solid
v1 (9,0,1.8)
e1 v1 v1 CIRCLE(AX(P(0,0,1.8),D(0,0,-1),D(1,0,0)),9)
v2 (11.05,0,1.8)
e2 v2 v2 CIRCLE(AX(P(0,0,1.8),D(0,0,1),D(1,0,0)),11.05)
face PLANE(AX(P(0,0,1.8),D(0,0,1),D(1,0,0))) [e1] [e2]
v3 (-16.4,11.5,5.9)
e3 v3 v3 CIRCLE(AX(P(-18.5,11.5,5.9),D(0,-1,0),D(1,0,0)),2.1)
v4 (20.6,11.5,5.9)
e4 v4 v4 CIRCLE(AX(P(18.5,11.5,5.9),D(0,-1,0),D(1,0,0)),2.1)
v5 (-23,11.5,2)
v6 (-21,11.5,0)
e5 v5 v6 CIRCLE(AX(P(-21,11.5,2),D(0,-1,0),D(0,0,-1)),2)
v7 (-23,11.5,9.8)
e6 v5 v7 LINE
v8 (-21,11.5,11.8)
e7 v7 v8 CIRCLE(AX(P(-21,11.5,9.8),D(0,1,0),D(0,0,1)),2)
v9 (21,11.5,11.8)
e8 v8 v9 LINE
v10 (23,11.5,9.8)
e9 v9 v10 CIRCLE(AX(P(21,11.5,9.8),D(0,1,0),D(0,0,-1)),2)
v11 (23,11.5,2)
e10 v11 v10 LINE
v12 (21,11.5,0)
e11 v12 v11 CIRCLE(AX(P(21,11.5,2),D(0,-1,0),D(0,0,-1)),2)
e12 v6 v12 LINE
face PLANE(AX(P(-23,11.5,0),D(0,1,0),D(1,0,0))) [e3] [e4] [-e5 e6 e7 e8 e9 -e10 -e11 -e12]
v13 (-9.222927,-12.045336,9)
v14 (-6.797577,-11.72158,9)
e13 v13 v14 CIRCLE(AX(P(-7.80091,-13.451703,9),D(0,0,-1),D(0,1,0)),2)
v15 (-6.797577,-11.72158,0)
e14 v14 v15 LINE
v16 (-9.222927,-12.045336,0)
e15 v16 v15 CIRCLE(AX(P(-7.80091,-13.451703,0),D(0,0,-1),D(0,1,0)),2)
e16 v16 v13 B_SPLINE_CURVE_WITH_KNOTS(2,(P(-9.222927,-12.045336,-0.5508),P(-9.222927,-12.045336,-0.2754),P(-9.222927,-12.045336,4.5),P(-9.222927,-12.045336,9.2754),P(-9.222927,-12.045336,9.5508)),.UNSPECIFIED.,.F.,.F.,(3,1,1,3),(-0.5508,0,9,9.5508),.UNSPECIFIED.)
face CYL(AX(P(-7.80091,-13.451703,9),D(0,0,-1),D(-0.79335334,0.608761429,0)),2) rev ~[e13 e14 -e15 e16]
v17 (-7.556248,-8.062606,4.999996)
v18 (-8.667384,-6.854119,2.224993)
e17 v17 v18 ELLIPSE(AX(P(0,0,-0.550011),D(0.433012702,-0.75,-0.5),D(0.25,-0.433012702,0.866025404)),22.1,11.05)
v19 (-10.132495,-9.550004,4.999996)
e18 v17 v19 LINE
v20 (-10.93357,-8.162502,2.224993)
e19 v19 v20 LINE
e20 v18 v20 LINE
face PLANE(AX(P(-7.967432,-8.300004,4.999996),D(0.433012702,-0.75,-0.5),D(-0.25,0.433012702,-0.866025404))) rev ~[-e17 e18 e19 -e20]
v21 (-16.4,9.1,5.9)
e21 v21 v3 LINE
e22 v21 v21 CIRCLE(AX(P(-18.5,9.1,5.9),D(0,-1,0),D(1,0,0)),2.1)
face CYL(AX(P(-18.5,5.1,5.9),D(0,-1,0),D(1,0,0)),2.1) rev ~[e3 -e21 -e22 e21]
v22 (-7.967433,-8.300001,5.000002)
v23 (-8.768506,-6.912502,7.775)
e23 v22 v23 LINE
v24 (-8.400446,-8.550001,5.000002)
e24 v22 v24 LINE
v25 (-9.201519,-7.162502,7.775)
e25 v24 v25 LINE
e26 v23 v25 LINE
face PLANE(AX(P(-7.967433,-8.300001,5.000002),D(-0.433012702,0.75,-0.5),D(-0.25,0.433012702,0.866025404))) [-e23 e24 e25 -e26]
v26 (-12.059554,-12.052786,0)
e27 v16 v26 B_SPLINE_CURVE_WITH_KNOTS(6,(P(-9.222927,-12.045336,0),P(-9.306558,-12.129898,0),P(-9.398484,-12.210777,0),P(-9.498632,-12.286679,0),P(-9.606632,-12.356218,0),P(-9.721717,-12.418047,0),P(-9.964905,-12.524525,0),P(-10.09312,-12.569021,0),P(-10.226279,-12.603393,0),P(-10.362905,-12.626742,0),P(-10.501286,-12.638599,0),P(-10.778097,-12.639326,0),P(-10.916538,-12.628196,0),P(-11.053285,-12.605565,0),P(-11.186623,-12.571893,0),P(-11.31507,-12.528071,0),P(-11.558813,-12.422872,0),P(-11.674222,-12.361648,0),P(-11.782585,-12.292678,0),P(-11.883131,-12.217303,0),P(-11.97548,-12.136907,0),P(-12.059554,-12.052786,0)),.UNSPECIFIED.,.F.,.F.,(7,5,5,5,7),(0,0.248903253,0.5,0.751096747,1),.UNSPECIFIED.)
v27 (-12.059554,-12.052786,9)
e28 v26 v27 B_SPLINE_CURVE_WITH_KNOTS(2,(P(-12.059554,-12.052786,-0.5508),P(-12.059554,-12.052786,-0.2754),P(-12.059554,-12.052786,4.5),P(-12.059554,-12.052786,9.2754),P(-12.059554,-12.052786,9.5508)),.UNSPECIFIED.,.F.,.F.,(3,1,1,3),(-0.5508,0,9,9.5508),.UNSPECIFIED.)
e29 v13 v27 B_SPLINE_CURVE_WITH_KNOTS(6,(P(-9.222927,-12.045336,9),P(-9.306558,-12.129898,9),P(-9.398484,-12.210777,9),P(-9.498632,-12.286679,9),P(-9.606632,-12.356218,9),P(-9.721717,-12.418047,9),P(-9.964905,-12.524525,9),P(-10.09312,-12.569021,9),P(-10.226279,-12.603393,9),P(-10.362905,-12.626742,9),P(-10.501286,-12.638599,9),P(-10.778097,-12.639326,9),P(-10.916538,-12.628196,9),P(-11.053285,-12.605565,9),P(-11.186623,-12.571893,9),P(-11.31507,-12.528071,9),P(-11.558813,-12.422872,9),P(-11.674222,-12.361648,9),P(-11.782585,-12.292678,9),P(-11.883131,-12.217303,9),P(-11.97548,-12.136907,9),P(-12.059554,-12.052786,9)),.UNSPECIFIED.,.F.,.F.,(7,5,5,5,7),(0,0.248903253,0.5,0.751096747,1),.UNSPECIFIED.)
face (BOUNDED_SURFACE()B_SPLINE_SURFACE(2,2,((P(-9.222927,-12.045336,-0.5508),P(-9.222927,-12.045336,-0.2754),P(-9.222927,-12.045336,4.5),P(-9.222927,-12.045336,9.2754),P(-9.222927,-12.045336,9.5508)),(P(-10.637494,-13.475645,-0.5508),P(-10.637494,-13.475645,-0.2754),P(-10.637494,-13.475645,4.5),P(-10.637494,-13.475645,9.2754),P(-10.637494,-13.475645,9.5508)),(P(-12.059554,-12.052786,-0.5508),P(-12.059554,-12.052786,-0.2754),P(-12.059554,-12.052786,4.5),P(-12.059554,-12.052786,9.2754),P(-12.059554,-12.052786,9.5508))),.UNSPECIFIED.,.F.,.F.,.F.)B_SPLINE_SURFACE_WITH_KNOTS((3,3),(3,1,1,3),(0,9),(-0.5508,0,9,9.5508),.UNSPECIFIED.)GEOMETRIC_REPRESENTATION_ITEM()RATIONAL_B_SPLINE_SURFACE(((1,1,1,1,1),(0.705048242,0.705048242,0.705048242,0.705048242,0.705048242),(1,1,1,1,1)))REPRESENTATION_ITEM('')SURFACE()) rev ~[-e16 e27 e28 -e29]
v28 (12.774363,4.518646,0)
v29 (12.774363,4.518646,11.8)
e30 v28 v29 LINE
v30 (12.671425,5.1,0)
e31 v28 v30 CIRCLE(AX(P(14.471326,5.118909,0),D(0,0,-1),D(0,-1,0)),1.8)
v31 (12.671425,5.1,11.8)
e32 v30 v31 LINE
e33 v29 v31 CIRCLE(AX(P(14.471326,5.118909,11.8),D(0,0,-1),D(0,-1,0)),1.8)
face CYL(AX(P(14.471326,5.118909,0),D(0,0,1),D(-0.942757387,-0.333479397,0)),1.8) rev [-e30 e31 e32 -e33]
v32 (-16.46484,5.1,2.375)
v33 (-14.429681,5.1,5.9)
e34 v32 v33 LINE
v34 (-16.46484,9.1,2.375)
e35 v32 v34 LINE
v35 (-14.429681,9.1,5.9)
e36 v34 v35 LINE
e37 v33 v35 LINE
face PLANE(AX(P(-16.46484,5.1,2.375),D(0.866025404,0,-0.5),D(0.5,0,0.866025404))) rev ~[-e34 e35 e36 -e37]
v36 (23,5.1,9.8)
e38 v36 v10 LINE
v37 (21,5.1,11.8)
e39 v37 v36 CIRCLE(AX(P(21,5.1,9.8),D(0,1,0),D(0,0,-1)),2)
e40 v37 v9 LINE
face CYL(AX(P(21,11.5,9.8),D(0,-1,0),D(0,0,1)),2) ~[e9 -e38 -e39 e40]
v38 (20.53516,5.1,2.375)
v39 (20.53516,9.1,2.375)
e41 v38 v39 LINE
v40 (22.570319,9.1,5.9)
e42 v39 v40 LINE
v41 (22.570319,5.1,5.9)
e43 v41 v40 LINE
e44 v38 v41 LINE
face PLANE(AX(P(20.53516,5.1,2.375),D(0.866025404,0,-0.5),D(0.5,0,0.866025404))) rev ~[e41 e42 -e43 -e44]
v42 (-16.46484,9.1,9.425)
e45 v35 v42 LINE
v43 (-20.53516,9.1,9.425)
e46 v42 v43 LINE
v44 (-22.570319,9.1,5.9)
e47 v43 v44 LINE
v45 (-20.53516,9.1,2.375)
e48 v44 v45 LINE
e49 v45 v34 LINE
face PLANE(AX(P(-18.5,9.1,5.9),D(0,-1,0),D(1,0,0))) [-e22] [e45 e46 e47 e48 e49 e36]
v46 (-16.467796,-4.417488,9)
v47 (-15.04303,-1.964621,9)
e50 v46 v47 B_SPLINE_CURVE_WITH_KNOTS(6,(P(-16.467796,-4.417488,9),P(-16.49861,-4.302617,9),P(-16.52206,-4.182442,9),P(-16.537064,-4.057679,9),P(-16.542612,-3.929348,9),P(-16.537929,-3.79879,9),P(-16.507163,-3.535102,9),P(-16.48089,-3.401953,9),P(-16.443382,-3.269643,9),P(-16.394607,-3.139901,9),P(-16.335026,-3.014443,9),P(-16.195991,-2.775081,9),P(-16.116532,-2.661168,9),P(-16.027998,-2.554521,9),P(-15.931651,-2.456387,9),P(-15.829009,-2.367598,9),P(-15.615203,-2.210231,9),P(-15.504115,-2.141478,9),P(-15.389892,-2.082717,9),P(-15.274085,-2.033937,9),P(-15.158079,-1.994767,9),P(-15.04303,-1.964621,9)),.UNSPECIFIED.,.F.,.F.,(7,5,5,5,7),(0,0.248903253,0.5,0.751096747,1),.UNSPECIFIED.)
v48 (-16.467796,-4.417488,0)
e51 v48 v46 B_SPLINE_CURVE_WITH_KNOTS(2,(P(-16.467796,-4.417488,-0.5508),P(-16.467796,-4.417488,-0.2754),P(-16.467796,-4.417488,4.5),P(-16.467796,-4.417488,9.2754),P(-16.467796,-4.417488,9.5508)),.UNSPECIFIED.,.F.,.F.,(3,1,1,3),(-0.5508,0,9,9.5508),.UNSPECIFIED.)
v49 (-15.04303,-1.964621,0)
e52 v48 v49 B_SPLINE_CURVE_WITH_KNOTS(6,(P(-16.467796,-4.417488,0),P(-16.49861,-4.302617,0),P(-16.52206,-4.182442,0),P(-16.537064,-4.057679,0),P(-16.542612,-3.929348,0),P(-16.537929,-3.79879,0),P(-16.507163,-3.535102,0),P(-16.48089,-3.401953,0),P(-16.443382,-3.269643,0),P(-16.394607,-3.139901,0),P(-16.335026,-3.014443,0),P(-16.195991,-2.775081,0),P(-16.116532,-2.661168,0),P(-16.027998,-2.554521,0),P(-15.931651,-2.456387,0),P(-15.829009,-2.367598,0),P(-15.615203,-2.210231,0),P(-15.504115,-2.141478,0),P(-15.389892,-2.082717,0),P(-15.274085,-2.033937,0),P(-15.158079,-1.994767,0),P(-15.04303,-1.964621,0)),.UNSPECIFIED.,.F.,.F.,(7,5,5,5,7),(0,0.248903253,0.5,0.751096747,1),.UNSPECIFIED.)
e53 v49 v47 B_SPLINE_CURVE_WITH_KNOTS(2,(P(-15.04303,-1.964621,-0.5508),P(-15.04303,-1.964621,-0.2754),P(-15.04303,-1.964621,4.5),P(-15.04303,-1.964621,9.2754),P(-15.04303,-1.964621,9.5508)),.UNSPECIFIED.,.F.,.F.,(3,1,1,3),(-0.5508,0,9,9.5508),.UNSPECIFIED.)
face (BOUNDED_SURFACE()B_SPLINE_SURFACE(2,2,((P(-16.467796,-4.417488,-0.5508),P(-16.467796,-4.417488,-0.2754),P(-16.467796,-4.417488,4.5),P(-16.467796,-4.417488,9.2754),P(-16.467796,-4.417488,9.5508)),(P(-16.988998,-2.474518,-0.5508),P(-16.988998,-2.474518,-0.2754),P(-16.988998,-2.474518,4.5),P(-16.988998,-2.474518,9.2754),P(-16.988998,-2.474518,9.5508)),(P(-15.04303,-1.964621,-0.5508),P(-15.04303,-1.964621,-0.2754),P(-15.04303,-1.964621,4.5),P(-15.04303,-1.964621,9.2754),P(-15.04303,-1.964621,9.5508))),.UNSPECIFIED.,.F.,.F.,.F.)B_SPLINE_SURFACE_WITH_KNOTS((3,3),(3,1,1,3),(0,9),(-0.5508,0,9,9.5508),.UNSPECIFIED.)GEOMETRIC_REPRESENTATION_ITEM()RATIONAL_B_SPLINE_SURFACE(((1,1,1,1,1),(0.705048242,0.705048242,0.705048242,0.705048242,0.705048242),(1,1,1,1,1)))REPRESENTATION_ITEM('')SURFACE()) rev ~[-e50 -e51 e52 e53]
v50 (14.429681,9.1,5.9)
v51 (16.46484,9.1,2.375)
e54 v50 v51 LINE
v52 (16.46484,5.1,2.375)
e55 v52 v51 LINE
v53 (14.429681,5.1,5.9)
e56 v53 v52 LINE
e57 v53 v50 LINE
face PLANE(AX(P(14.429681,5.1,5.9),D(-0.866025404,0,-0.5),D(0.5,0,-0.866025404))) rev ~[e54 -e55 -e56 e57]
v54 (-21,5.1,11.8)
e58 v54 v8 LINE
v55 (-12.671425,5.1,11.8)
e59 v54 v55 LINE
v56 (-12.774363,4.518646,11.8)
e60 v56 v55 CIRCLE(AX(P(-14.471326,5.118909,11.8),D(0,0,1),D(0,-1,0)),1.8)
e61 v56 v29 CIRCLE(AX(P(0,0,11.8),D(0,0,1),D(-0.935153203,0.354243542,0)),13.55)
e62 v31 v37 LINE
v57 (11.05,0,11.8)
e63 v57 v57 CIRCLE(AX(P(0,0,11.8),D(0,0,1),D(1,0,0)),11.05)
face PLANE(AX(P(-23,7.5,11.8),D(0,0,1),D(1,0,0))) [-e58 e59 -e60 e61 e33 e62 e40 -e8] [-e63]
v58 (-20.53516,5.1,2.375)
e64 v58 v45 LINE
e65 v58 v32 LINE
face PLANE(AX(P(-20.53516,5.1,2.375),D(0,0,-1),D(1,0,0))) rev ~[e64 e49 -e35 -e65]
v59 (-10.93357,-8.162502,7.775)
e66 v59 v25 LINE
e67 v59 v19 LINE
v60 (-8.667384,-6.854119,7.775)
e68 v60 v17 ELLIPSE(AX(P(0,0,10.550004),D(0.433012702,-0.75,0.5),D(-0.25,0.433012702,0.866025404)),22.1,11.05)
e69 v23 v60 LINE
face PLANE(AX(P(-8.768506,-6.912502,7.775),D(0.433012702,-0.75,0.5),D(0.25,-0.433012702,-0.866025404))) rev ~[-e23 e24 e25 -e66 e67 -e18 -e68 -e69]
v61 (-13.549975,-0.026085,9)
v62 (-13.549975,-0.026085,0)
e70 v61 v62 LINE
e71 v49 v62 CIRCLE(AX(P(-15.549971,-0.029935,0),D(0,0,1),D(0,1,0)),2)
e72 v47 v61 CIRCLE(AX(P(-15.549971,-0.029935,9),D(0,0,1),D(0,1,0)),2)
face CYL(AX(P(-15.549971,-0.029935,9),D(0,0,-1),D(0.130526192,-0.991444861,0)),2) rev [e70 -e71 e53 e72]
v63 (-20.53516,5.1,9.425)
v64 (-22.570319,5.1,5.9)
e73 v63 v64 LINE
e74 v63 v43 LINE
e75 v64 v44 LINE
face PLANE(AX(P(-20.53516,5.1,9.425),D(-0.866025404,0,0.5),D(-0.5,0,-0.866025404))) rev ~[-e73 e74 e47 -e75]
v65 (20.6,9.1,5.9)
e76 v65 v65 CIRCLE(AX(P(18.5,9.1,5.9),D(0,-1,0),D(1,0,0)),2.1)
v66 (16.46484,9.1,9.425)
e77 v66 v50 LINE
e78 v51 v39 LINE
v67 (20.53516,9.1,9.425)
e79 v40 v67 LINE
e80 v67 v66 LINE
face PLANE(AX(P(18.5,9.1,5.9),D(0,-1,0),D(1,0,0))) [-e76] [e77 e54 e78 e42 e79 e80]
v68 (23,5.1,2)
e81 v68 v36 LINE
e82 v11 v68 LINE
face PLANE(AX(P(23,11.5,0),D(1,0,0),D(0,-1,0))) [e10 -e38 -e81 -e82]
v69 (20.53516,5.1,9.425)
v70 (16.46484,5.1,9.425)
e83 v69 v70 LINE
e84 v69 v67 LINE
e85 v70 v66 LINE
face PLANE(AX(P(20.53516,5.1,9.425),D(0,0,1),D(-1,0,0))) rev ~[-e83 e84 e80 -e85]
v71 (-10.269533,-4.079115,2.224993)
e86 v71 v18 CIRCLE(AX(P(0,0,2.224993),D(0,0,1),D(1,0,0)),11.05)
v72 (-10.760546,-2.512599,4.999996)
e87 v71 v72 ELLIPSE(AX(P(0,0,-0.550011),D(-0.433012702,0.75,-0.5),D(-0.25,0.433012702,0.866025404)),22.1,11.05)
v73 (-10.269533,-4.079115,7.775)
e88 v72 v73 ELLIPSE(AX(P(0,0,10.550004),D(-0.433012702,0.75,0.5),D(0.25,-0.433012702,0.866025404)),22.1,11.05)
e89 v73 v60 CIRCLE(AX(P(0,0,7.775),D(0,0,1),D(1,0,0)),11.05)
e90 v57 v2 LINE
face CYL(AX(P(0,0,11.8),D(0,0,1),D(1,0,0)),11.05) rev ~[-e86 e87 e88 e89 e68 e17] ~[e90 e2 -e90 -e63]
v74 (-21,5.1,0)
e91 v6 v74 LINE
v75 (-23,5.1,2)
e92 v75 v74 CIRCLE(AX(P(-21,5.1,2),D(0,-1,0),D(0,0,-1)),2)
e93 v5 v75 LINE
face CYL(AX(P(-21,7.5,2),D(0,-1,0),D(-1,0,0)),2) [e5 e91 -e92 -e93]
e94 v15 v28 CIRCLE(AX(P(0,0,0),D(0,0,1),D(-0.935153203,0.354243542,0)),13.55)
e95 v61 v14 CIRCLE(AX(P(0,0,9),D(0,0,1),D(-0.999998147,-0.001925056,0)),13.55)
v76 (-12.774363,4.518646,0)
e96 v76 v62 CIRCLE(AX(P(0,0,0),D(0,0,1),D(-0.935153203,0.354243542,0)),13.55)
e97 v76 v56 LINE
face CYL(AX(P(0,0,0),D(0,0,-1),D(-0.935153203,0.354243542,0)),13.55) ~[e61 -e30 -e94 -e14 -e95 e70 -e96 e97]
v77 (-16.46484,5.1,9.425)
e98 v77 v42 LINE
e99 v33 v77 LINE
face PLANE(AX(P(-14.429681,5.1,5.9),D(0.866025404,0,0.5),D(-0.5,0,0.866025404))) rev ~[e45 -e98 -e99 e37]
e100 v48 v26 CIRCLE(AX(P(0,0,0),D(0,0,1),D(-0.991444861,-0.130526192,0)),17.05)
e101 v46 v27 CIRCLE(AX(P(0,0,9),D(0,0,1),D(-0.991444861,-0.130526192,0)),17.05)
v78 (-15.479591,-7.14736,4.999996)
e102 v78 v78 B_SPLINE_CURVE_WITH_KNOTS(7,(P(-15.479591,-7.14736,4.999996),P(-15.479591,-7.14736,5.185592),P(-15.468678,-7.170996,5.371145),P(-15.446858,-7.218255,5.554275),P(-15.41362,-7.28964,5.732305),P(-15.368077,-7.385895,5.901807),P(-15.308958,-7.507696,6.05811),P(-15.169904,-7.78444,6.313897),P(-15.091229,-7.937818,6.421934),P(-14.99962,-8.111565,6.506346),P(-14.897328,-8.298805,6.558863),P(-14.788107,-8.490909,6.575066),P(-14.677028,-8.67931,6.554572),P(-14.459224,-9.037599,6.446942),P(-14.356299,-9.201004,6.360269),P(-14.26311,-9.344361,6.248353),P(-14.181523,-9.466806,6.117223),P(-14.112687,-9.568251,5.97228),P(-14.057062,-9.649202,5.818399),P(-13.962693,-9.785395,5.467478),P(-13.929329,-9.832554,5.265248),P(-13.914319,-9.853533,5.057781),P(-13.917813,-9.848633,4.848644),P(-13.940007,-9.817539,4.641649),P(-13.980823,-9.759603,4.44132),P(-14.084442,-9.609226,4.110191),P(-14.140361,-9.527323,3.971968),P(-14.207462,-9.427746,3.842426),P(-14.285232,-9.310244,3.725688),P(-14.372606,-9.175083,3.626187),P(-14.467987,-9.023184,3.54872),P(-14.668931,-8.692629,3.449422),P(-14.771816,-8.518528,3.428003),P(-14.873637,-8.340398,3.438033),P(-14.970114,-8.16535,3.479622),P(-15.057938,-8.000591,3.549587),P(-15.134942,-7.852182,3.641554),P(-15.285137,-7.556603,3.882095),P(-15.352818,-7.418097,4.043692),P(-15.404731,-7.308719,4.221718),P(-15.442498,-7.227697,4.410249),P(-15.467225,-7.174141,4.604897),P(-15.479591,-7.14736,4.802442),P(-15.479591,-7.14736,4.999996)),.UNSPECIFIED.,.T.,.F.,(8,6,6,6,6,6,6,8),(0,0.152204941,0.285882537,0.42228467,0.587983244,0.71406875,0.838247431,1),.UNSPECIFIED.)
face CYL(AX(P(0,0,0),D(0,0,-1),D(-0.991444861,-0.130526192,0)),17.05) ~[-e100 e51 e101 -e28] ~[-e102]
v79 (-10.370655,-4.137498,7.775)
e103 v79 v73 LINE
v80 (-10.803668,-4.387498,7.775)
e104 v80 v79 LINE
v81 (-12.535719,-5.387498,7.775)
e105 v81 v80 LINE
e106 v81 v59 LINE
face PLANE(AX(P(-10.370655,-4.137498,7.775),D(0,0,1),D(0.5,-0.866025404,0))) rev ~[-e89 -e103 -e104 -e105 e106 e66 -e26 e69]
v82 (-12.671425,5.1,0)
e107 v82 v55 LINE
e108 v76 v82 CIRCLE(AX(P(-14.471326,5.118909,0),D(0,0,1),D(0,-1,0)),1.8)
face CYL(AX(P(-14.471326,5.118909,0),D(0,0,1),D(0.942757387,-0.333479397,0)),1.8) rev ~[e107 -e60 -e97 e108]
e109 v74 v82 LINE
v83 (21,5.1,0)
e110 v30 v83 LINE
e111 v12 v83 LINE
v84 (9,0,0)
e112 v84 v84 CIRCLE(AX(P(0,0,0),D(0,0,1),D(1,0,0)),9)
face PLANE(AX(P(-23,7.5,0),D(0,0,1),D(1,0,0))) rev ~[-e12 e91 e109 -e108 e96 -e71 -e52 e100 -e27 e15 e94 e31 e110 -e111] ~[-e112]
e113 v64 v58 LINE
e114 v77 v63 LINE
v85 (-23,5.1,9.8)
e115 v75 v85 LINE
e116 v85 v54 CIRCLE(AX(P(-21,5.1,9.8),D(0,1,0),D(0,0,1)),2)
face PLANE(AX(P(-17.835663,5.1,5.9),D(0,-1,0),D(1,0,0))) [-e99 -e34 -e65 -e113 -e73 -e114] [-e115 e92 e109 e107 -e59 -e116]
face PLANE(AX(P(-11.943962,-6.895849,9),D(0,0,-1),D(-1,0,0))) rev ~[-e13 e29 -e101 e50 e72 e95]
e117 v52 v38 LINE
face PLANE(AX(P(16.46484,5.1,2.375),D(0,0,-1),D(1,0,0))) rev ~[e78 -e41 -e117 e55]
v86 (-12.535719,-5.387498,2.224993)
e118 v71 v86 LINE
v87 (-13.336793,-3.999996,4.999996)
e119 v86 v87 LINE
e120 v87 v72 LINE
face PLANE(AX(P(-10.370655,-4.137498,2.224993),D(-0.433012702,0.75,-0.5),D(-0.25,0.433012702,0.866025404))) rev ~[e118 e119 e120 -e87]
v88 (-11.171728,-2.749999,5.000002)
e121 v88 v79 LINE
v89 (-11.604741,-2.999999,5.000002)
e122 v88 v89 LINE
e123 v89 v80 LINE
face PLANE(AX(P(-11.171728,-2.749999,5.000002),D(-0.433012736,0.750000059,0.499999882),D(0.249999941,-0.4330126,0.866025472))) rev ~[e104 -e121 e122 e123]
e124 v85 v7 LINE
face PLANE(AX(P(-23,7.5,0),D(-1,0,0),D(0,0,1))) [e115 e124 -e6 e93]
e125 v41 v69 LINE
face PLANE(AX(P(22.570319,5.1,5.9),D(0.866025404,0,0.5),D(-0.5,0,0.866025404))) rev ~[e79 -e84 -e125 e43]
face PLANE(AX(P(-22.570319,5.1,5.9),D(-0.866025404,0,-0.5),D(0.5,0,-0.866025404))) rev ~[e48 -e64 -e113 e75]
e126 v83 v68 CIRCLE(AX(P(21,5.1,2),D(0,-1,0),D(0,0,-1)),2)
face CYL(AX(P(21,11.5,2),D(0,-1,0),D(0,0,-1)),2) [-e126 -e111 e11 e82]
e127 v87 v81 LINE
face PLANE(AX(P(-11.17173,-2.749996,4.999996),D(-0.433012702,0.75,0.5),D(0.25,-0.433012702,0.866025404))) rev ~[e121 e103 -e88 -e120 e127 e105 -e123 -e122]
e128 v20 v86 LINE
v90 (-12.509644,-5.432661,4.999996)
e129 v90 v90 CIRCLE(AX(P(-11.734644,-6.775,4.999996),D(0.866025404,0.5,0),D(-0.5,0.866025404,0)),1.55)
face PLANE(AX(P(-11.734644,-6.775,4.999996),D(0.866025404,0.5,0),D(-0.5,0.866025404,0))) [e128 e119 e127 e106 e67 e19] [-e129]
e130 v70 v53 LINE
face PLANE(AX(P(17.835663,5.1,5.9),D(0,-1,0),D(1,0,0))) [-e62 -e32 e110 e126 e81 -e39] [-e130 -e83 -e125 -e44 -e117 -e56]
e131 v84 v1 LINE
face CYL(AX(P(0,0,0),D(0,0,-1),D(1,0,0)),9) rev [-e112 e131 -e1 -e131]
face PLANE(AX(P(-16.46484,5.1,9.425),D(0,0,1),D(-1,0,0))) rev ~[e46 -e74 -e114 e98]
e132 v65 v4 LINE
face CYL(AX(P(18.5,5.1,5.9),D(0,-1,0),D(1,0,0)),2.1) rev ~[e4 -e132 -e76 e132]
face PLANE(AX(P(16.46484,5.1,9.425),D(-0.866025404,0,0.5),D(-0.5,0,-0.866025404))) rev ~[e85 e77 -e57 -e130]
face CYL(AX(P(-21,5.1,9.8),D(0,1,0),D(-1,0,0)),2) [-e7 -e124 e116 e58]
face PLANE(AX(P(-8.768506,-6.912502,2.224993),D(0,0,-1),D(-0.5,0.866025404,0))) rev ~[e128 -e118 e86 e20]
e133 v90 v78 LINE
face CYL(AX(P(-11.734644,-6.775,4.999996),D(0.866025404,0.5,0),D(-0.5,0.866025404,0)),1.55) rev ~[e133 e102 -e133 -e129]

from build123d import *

# Parameters (mm, degrees)
PAD002_DEPTH    = 5.55
POCKET001_DEPTH = 0.5
POCKET002_DEPTH = 0.5
PAD003_DEPTH    = 2.5
PAD001_DEPTH    = 9
SKETCH_R        = 9
PAD_DEPTH       = 11.8
SKETCH001_R     = 11.05
POCKET_DEPTH    = 10
SKETCH010_R     = 1.55
POCKET003_DEPTH = 5
FILLET_R        = 1.8
SKETCH012_W     = 10.3286741025
SKETCH012_H     = 11.8
PAD004_DEPTH    = 2.4
SKETCH011_R     = 2.1
POCKET004_DEPTH = 6.4010000001
POCKET005_DEPTH = 4
FILLET001_R     = 2
FILLET002_R     = 2
FILLET003_R     = 2


with BuildPart() as pad003:
    # Sketch004 → Pad002 (new body)
    with BuildSketch(Plane.XY.offset(2.225)):
        Polygon((-11.1717282118, -2.7499991288), (-7.9674332118, -8.3000008712), (-8.4004459137, -8.5500008712), (-11.6047409137, -2.9999991288), align=None)
    extrude(amount=PAD002_DEPTH)

    # Sketch006 → Pocket001 (cut)
    with BuildSketch(Plane(origin=(-9.5695807118, -5.525, 2.225), x_dir=(-0.5, 0.8660254038, 0), z_dir=(0.8660254038, 0.5, 0))):
        Polygon((-3.204295, 2.7750019602), (-1.6021491347, 5.55), (-3.204295, 5.55), align=None)
        Polygon((1.6021478772, 0), (3.204295, 0), (3.204295, 2.7750019602), align=None)
    extrude(amount=-POCKET001_DEPTH, mode=Mode.SUBTRACT)

    # Sketch008 → Pocket002 (cut)
    with BuildSketch(Plane(origin=(-9.5695807118, -5.525, 2.225), x_dir=(-0.5, 0.8660254038, 0), z_dir=(0.8660254038, 0.5, 0))):
        Polygon((1.6021478772, 5.5500030493), (3.204295, 5.5500030493), (3.204295, 2.7750019602), align=None)
        Polygon((-1.6021478772, 0), (-3.2042957545, 0), (-3.2042957545, 2.7750015246), align=None)
    extrude(amount=-POCKET002_DEPTH, mode=Mode.SUBTRACT)

    # Sketch009 → Pad003 (new body, symmetric)
    with BuildSketch(Plane(origin=(-9.5695807118, -5.525, 2.225), x_dir=(-0.5, 0.8660254038, 0), z_dir=(0.8660254038, 0.5, 0))):
        Polygon((1.6021491347, -7.4054e-06), (3.2042982695, 2.7749962973), (1.6021491347, 5.55), (-1.6021491347, 5.55), (-3.2042982695, 2.7749962973), (-1.6021491347, -7.4054e-06), align=None)
    extrude(amount=PAD003_DEPTH, both=True)


with BuildPart() as pad001:
    # Sketch003 → Pad001 (new body)
    with BuildSketch(Plane.XY):
        with BuildLine():
            ThreePointArc((-10.9554657182, -1.442314424), (-9.5695807118, -5.525), (-6.7268137905, -8.7665544102))
            Line((-10.3793823646, -13.526674452), (-6.7268137905, -8.7665544102))
            ThreePointArc((-16.9041348864, -2.2254715773), (-14.7657331345, -8.525), (-10.3793823646, -13.526674452))
            Line((-10.9554657182, -1.442314424), (-16.9041348864, -2.2254715773))
        make_face()
    extrude(amount=PAD001_DEPTH)


with BuildPart() as fillet003:
    # Sketch → Pad (new body)
    with BuildSketch(Plane.XY):
        with BuildLine():
            Line((-23, 11.5), (23, 11.5))
            Line((23, 11.5), (23, 7.5))
            Line((23, 7.5), (15, 7.5))
            Line((12.6713258975, 7.5), (15, 7.5))
            Line((12.6713258975, 4.8), (12.6713258975, 7.5))
            ThreePointArc((-12.6713258975, 4.8), (0, -13.55), (12.6713258975, 4.8))
            Line((-12.6713258975, 7.5), (-12.6713258975, 4.8))
            Line((-15, 7.5), (-12.6713258975, 7.5))
            Line((-15, 7.5), (-23, 7.5))
            Line((-23, 7.5), (-23, 11.5))
        make_face()
        Circle(SKETCH_R, mode=Mode.SUBTRACT)
    extrude(amount=PAD_DEPTH)

    # Sketch001 → Pocket (cut)
    with BuildSketch(Plane.XY.offset(11.8)):
        Circle(SKETCH001_R)
    extrude(amount=-POCKET_DEPTH, mode=Mode.SUBTRACT)

    # Fusion: union Pad001
    add(pad001.part)

    # Cut: cut Pad003
    add(pad003.part, mode=Mode.SUBTRACT)

    # Sketch010 → Pocket003 (cut)
    with BuildSketch(Plane(origin=(-11.7346442213, -6.775, 0), x_dir=(-0.5, 0.8660254038, 0), z_dir=(0.8660254038, 0.5, 0))):
        with Locations((0, 4.9999962973)):
            Circle(SKETCH010_R)
    extrude(amount=-POCKET003_DEPTH, mode=Mode.SUBTRACT)

    # Fillet
    fillet_edges = [fillet003.edges().sort_by_distance(p)[0] for p in [
        (-12.671326, 4.8, 5.9),
        (12.671326, 4.8, 5.9),
    ]]
    fillet(fillet_edges, radius=FILLET_R)

    # Sketch012 → Pad004 (new body)
    with BuildSketch(Plane.XZ.offset(-7.5)):
        with Locations((-17.8356629487, 5.9)):
            Rectangle(SKETCH012_W, SKETCH012_H)
        with Locations((17.8356629487, 5.9)):
            Rectangle(SKETCH012_W, SKETCH012_H)
    extrude(amount=PAD004_DEPTH)

    # Sketch011 → Pocket004 (cut, through all)
    with BuildSketch(Plane.XZ.offset(-5.1)):
        with Locations((-18.5, 5.9)):
            Circle(SKETCH011_R)
        with Locations((18.5, 5.9)):
            Circle(SKETCH011_R)
    extrude(amount=-POCKET004_DEPTH, mode=Mode.SUBTRACT)

    # Sketch013 → Pocket005 (cut)
    with BuildSketch(Plane.XZ.offset(-5.1)):
        Polygon((-14.4296806022, 5.9), (-16.4648403011, 9.425), (-20.5351596989, 9.425), (-22.5703193978, 5.9), (-20.5351596989, 2.375), (-16.4648403011, 2.375), align=None)
        Polygon((22.5703193978, 5.9), (20.5351596989, 9.425), (16.4648403011, 9.425), (14.4296806022, 5.9), (16.4648403011, 2.375), (20.5351596989, 2.375), align=None)
    extrude(amount=-POCKET005_DEPTH, mode=Mode.SUBTRACT)

    # Fillet001
    fillet001_edges = [fillet003.edges().sort_by_distance(p)[0] for p in [
        (-23, 6.3, 0),
        (-23, 9.5, 0),
        (-23, 9.5, 11.8),
        (-23, 6.3, 11.8),
        (23, 6.3, 0),
        (23, 9.5, 0),
        (23, 9.5, 11.8),
        (23, 6.3, 11.8),
    ]]
    fillet(fillet001_edges, radius=FILLET001_R)

    # Fillet002
    fillet002_edges = [fillet003.edges().sort_by_distance(p)[0] for p in [
        (-8.248717, -10.749938, 4.5),
        (-13.434078, -1.76863, 4.5),
    ]]
    fillet(fillet002_edges, radius=FILLET002_R)

    # Fillet003
    fillet003_edges = [fillet003.edges().sort_by_distance(p)[0] for p in [
        (-10.379382, -13.526674, 4.5),
        (-16.904135, -2.225472, 4.5),
    ]]
    fillet(fillet003_edges, radius=FILLET003_R)


solid = fillet003.part
